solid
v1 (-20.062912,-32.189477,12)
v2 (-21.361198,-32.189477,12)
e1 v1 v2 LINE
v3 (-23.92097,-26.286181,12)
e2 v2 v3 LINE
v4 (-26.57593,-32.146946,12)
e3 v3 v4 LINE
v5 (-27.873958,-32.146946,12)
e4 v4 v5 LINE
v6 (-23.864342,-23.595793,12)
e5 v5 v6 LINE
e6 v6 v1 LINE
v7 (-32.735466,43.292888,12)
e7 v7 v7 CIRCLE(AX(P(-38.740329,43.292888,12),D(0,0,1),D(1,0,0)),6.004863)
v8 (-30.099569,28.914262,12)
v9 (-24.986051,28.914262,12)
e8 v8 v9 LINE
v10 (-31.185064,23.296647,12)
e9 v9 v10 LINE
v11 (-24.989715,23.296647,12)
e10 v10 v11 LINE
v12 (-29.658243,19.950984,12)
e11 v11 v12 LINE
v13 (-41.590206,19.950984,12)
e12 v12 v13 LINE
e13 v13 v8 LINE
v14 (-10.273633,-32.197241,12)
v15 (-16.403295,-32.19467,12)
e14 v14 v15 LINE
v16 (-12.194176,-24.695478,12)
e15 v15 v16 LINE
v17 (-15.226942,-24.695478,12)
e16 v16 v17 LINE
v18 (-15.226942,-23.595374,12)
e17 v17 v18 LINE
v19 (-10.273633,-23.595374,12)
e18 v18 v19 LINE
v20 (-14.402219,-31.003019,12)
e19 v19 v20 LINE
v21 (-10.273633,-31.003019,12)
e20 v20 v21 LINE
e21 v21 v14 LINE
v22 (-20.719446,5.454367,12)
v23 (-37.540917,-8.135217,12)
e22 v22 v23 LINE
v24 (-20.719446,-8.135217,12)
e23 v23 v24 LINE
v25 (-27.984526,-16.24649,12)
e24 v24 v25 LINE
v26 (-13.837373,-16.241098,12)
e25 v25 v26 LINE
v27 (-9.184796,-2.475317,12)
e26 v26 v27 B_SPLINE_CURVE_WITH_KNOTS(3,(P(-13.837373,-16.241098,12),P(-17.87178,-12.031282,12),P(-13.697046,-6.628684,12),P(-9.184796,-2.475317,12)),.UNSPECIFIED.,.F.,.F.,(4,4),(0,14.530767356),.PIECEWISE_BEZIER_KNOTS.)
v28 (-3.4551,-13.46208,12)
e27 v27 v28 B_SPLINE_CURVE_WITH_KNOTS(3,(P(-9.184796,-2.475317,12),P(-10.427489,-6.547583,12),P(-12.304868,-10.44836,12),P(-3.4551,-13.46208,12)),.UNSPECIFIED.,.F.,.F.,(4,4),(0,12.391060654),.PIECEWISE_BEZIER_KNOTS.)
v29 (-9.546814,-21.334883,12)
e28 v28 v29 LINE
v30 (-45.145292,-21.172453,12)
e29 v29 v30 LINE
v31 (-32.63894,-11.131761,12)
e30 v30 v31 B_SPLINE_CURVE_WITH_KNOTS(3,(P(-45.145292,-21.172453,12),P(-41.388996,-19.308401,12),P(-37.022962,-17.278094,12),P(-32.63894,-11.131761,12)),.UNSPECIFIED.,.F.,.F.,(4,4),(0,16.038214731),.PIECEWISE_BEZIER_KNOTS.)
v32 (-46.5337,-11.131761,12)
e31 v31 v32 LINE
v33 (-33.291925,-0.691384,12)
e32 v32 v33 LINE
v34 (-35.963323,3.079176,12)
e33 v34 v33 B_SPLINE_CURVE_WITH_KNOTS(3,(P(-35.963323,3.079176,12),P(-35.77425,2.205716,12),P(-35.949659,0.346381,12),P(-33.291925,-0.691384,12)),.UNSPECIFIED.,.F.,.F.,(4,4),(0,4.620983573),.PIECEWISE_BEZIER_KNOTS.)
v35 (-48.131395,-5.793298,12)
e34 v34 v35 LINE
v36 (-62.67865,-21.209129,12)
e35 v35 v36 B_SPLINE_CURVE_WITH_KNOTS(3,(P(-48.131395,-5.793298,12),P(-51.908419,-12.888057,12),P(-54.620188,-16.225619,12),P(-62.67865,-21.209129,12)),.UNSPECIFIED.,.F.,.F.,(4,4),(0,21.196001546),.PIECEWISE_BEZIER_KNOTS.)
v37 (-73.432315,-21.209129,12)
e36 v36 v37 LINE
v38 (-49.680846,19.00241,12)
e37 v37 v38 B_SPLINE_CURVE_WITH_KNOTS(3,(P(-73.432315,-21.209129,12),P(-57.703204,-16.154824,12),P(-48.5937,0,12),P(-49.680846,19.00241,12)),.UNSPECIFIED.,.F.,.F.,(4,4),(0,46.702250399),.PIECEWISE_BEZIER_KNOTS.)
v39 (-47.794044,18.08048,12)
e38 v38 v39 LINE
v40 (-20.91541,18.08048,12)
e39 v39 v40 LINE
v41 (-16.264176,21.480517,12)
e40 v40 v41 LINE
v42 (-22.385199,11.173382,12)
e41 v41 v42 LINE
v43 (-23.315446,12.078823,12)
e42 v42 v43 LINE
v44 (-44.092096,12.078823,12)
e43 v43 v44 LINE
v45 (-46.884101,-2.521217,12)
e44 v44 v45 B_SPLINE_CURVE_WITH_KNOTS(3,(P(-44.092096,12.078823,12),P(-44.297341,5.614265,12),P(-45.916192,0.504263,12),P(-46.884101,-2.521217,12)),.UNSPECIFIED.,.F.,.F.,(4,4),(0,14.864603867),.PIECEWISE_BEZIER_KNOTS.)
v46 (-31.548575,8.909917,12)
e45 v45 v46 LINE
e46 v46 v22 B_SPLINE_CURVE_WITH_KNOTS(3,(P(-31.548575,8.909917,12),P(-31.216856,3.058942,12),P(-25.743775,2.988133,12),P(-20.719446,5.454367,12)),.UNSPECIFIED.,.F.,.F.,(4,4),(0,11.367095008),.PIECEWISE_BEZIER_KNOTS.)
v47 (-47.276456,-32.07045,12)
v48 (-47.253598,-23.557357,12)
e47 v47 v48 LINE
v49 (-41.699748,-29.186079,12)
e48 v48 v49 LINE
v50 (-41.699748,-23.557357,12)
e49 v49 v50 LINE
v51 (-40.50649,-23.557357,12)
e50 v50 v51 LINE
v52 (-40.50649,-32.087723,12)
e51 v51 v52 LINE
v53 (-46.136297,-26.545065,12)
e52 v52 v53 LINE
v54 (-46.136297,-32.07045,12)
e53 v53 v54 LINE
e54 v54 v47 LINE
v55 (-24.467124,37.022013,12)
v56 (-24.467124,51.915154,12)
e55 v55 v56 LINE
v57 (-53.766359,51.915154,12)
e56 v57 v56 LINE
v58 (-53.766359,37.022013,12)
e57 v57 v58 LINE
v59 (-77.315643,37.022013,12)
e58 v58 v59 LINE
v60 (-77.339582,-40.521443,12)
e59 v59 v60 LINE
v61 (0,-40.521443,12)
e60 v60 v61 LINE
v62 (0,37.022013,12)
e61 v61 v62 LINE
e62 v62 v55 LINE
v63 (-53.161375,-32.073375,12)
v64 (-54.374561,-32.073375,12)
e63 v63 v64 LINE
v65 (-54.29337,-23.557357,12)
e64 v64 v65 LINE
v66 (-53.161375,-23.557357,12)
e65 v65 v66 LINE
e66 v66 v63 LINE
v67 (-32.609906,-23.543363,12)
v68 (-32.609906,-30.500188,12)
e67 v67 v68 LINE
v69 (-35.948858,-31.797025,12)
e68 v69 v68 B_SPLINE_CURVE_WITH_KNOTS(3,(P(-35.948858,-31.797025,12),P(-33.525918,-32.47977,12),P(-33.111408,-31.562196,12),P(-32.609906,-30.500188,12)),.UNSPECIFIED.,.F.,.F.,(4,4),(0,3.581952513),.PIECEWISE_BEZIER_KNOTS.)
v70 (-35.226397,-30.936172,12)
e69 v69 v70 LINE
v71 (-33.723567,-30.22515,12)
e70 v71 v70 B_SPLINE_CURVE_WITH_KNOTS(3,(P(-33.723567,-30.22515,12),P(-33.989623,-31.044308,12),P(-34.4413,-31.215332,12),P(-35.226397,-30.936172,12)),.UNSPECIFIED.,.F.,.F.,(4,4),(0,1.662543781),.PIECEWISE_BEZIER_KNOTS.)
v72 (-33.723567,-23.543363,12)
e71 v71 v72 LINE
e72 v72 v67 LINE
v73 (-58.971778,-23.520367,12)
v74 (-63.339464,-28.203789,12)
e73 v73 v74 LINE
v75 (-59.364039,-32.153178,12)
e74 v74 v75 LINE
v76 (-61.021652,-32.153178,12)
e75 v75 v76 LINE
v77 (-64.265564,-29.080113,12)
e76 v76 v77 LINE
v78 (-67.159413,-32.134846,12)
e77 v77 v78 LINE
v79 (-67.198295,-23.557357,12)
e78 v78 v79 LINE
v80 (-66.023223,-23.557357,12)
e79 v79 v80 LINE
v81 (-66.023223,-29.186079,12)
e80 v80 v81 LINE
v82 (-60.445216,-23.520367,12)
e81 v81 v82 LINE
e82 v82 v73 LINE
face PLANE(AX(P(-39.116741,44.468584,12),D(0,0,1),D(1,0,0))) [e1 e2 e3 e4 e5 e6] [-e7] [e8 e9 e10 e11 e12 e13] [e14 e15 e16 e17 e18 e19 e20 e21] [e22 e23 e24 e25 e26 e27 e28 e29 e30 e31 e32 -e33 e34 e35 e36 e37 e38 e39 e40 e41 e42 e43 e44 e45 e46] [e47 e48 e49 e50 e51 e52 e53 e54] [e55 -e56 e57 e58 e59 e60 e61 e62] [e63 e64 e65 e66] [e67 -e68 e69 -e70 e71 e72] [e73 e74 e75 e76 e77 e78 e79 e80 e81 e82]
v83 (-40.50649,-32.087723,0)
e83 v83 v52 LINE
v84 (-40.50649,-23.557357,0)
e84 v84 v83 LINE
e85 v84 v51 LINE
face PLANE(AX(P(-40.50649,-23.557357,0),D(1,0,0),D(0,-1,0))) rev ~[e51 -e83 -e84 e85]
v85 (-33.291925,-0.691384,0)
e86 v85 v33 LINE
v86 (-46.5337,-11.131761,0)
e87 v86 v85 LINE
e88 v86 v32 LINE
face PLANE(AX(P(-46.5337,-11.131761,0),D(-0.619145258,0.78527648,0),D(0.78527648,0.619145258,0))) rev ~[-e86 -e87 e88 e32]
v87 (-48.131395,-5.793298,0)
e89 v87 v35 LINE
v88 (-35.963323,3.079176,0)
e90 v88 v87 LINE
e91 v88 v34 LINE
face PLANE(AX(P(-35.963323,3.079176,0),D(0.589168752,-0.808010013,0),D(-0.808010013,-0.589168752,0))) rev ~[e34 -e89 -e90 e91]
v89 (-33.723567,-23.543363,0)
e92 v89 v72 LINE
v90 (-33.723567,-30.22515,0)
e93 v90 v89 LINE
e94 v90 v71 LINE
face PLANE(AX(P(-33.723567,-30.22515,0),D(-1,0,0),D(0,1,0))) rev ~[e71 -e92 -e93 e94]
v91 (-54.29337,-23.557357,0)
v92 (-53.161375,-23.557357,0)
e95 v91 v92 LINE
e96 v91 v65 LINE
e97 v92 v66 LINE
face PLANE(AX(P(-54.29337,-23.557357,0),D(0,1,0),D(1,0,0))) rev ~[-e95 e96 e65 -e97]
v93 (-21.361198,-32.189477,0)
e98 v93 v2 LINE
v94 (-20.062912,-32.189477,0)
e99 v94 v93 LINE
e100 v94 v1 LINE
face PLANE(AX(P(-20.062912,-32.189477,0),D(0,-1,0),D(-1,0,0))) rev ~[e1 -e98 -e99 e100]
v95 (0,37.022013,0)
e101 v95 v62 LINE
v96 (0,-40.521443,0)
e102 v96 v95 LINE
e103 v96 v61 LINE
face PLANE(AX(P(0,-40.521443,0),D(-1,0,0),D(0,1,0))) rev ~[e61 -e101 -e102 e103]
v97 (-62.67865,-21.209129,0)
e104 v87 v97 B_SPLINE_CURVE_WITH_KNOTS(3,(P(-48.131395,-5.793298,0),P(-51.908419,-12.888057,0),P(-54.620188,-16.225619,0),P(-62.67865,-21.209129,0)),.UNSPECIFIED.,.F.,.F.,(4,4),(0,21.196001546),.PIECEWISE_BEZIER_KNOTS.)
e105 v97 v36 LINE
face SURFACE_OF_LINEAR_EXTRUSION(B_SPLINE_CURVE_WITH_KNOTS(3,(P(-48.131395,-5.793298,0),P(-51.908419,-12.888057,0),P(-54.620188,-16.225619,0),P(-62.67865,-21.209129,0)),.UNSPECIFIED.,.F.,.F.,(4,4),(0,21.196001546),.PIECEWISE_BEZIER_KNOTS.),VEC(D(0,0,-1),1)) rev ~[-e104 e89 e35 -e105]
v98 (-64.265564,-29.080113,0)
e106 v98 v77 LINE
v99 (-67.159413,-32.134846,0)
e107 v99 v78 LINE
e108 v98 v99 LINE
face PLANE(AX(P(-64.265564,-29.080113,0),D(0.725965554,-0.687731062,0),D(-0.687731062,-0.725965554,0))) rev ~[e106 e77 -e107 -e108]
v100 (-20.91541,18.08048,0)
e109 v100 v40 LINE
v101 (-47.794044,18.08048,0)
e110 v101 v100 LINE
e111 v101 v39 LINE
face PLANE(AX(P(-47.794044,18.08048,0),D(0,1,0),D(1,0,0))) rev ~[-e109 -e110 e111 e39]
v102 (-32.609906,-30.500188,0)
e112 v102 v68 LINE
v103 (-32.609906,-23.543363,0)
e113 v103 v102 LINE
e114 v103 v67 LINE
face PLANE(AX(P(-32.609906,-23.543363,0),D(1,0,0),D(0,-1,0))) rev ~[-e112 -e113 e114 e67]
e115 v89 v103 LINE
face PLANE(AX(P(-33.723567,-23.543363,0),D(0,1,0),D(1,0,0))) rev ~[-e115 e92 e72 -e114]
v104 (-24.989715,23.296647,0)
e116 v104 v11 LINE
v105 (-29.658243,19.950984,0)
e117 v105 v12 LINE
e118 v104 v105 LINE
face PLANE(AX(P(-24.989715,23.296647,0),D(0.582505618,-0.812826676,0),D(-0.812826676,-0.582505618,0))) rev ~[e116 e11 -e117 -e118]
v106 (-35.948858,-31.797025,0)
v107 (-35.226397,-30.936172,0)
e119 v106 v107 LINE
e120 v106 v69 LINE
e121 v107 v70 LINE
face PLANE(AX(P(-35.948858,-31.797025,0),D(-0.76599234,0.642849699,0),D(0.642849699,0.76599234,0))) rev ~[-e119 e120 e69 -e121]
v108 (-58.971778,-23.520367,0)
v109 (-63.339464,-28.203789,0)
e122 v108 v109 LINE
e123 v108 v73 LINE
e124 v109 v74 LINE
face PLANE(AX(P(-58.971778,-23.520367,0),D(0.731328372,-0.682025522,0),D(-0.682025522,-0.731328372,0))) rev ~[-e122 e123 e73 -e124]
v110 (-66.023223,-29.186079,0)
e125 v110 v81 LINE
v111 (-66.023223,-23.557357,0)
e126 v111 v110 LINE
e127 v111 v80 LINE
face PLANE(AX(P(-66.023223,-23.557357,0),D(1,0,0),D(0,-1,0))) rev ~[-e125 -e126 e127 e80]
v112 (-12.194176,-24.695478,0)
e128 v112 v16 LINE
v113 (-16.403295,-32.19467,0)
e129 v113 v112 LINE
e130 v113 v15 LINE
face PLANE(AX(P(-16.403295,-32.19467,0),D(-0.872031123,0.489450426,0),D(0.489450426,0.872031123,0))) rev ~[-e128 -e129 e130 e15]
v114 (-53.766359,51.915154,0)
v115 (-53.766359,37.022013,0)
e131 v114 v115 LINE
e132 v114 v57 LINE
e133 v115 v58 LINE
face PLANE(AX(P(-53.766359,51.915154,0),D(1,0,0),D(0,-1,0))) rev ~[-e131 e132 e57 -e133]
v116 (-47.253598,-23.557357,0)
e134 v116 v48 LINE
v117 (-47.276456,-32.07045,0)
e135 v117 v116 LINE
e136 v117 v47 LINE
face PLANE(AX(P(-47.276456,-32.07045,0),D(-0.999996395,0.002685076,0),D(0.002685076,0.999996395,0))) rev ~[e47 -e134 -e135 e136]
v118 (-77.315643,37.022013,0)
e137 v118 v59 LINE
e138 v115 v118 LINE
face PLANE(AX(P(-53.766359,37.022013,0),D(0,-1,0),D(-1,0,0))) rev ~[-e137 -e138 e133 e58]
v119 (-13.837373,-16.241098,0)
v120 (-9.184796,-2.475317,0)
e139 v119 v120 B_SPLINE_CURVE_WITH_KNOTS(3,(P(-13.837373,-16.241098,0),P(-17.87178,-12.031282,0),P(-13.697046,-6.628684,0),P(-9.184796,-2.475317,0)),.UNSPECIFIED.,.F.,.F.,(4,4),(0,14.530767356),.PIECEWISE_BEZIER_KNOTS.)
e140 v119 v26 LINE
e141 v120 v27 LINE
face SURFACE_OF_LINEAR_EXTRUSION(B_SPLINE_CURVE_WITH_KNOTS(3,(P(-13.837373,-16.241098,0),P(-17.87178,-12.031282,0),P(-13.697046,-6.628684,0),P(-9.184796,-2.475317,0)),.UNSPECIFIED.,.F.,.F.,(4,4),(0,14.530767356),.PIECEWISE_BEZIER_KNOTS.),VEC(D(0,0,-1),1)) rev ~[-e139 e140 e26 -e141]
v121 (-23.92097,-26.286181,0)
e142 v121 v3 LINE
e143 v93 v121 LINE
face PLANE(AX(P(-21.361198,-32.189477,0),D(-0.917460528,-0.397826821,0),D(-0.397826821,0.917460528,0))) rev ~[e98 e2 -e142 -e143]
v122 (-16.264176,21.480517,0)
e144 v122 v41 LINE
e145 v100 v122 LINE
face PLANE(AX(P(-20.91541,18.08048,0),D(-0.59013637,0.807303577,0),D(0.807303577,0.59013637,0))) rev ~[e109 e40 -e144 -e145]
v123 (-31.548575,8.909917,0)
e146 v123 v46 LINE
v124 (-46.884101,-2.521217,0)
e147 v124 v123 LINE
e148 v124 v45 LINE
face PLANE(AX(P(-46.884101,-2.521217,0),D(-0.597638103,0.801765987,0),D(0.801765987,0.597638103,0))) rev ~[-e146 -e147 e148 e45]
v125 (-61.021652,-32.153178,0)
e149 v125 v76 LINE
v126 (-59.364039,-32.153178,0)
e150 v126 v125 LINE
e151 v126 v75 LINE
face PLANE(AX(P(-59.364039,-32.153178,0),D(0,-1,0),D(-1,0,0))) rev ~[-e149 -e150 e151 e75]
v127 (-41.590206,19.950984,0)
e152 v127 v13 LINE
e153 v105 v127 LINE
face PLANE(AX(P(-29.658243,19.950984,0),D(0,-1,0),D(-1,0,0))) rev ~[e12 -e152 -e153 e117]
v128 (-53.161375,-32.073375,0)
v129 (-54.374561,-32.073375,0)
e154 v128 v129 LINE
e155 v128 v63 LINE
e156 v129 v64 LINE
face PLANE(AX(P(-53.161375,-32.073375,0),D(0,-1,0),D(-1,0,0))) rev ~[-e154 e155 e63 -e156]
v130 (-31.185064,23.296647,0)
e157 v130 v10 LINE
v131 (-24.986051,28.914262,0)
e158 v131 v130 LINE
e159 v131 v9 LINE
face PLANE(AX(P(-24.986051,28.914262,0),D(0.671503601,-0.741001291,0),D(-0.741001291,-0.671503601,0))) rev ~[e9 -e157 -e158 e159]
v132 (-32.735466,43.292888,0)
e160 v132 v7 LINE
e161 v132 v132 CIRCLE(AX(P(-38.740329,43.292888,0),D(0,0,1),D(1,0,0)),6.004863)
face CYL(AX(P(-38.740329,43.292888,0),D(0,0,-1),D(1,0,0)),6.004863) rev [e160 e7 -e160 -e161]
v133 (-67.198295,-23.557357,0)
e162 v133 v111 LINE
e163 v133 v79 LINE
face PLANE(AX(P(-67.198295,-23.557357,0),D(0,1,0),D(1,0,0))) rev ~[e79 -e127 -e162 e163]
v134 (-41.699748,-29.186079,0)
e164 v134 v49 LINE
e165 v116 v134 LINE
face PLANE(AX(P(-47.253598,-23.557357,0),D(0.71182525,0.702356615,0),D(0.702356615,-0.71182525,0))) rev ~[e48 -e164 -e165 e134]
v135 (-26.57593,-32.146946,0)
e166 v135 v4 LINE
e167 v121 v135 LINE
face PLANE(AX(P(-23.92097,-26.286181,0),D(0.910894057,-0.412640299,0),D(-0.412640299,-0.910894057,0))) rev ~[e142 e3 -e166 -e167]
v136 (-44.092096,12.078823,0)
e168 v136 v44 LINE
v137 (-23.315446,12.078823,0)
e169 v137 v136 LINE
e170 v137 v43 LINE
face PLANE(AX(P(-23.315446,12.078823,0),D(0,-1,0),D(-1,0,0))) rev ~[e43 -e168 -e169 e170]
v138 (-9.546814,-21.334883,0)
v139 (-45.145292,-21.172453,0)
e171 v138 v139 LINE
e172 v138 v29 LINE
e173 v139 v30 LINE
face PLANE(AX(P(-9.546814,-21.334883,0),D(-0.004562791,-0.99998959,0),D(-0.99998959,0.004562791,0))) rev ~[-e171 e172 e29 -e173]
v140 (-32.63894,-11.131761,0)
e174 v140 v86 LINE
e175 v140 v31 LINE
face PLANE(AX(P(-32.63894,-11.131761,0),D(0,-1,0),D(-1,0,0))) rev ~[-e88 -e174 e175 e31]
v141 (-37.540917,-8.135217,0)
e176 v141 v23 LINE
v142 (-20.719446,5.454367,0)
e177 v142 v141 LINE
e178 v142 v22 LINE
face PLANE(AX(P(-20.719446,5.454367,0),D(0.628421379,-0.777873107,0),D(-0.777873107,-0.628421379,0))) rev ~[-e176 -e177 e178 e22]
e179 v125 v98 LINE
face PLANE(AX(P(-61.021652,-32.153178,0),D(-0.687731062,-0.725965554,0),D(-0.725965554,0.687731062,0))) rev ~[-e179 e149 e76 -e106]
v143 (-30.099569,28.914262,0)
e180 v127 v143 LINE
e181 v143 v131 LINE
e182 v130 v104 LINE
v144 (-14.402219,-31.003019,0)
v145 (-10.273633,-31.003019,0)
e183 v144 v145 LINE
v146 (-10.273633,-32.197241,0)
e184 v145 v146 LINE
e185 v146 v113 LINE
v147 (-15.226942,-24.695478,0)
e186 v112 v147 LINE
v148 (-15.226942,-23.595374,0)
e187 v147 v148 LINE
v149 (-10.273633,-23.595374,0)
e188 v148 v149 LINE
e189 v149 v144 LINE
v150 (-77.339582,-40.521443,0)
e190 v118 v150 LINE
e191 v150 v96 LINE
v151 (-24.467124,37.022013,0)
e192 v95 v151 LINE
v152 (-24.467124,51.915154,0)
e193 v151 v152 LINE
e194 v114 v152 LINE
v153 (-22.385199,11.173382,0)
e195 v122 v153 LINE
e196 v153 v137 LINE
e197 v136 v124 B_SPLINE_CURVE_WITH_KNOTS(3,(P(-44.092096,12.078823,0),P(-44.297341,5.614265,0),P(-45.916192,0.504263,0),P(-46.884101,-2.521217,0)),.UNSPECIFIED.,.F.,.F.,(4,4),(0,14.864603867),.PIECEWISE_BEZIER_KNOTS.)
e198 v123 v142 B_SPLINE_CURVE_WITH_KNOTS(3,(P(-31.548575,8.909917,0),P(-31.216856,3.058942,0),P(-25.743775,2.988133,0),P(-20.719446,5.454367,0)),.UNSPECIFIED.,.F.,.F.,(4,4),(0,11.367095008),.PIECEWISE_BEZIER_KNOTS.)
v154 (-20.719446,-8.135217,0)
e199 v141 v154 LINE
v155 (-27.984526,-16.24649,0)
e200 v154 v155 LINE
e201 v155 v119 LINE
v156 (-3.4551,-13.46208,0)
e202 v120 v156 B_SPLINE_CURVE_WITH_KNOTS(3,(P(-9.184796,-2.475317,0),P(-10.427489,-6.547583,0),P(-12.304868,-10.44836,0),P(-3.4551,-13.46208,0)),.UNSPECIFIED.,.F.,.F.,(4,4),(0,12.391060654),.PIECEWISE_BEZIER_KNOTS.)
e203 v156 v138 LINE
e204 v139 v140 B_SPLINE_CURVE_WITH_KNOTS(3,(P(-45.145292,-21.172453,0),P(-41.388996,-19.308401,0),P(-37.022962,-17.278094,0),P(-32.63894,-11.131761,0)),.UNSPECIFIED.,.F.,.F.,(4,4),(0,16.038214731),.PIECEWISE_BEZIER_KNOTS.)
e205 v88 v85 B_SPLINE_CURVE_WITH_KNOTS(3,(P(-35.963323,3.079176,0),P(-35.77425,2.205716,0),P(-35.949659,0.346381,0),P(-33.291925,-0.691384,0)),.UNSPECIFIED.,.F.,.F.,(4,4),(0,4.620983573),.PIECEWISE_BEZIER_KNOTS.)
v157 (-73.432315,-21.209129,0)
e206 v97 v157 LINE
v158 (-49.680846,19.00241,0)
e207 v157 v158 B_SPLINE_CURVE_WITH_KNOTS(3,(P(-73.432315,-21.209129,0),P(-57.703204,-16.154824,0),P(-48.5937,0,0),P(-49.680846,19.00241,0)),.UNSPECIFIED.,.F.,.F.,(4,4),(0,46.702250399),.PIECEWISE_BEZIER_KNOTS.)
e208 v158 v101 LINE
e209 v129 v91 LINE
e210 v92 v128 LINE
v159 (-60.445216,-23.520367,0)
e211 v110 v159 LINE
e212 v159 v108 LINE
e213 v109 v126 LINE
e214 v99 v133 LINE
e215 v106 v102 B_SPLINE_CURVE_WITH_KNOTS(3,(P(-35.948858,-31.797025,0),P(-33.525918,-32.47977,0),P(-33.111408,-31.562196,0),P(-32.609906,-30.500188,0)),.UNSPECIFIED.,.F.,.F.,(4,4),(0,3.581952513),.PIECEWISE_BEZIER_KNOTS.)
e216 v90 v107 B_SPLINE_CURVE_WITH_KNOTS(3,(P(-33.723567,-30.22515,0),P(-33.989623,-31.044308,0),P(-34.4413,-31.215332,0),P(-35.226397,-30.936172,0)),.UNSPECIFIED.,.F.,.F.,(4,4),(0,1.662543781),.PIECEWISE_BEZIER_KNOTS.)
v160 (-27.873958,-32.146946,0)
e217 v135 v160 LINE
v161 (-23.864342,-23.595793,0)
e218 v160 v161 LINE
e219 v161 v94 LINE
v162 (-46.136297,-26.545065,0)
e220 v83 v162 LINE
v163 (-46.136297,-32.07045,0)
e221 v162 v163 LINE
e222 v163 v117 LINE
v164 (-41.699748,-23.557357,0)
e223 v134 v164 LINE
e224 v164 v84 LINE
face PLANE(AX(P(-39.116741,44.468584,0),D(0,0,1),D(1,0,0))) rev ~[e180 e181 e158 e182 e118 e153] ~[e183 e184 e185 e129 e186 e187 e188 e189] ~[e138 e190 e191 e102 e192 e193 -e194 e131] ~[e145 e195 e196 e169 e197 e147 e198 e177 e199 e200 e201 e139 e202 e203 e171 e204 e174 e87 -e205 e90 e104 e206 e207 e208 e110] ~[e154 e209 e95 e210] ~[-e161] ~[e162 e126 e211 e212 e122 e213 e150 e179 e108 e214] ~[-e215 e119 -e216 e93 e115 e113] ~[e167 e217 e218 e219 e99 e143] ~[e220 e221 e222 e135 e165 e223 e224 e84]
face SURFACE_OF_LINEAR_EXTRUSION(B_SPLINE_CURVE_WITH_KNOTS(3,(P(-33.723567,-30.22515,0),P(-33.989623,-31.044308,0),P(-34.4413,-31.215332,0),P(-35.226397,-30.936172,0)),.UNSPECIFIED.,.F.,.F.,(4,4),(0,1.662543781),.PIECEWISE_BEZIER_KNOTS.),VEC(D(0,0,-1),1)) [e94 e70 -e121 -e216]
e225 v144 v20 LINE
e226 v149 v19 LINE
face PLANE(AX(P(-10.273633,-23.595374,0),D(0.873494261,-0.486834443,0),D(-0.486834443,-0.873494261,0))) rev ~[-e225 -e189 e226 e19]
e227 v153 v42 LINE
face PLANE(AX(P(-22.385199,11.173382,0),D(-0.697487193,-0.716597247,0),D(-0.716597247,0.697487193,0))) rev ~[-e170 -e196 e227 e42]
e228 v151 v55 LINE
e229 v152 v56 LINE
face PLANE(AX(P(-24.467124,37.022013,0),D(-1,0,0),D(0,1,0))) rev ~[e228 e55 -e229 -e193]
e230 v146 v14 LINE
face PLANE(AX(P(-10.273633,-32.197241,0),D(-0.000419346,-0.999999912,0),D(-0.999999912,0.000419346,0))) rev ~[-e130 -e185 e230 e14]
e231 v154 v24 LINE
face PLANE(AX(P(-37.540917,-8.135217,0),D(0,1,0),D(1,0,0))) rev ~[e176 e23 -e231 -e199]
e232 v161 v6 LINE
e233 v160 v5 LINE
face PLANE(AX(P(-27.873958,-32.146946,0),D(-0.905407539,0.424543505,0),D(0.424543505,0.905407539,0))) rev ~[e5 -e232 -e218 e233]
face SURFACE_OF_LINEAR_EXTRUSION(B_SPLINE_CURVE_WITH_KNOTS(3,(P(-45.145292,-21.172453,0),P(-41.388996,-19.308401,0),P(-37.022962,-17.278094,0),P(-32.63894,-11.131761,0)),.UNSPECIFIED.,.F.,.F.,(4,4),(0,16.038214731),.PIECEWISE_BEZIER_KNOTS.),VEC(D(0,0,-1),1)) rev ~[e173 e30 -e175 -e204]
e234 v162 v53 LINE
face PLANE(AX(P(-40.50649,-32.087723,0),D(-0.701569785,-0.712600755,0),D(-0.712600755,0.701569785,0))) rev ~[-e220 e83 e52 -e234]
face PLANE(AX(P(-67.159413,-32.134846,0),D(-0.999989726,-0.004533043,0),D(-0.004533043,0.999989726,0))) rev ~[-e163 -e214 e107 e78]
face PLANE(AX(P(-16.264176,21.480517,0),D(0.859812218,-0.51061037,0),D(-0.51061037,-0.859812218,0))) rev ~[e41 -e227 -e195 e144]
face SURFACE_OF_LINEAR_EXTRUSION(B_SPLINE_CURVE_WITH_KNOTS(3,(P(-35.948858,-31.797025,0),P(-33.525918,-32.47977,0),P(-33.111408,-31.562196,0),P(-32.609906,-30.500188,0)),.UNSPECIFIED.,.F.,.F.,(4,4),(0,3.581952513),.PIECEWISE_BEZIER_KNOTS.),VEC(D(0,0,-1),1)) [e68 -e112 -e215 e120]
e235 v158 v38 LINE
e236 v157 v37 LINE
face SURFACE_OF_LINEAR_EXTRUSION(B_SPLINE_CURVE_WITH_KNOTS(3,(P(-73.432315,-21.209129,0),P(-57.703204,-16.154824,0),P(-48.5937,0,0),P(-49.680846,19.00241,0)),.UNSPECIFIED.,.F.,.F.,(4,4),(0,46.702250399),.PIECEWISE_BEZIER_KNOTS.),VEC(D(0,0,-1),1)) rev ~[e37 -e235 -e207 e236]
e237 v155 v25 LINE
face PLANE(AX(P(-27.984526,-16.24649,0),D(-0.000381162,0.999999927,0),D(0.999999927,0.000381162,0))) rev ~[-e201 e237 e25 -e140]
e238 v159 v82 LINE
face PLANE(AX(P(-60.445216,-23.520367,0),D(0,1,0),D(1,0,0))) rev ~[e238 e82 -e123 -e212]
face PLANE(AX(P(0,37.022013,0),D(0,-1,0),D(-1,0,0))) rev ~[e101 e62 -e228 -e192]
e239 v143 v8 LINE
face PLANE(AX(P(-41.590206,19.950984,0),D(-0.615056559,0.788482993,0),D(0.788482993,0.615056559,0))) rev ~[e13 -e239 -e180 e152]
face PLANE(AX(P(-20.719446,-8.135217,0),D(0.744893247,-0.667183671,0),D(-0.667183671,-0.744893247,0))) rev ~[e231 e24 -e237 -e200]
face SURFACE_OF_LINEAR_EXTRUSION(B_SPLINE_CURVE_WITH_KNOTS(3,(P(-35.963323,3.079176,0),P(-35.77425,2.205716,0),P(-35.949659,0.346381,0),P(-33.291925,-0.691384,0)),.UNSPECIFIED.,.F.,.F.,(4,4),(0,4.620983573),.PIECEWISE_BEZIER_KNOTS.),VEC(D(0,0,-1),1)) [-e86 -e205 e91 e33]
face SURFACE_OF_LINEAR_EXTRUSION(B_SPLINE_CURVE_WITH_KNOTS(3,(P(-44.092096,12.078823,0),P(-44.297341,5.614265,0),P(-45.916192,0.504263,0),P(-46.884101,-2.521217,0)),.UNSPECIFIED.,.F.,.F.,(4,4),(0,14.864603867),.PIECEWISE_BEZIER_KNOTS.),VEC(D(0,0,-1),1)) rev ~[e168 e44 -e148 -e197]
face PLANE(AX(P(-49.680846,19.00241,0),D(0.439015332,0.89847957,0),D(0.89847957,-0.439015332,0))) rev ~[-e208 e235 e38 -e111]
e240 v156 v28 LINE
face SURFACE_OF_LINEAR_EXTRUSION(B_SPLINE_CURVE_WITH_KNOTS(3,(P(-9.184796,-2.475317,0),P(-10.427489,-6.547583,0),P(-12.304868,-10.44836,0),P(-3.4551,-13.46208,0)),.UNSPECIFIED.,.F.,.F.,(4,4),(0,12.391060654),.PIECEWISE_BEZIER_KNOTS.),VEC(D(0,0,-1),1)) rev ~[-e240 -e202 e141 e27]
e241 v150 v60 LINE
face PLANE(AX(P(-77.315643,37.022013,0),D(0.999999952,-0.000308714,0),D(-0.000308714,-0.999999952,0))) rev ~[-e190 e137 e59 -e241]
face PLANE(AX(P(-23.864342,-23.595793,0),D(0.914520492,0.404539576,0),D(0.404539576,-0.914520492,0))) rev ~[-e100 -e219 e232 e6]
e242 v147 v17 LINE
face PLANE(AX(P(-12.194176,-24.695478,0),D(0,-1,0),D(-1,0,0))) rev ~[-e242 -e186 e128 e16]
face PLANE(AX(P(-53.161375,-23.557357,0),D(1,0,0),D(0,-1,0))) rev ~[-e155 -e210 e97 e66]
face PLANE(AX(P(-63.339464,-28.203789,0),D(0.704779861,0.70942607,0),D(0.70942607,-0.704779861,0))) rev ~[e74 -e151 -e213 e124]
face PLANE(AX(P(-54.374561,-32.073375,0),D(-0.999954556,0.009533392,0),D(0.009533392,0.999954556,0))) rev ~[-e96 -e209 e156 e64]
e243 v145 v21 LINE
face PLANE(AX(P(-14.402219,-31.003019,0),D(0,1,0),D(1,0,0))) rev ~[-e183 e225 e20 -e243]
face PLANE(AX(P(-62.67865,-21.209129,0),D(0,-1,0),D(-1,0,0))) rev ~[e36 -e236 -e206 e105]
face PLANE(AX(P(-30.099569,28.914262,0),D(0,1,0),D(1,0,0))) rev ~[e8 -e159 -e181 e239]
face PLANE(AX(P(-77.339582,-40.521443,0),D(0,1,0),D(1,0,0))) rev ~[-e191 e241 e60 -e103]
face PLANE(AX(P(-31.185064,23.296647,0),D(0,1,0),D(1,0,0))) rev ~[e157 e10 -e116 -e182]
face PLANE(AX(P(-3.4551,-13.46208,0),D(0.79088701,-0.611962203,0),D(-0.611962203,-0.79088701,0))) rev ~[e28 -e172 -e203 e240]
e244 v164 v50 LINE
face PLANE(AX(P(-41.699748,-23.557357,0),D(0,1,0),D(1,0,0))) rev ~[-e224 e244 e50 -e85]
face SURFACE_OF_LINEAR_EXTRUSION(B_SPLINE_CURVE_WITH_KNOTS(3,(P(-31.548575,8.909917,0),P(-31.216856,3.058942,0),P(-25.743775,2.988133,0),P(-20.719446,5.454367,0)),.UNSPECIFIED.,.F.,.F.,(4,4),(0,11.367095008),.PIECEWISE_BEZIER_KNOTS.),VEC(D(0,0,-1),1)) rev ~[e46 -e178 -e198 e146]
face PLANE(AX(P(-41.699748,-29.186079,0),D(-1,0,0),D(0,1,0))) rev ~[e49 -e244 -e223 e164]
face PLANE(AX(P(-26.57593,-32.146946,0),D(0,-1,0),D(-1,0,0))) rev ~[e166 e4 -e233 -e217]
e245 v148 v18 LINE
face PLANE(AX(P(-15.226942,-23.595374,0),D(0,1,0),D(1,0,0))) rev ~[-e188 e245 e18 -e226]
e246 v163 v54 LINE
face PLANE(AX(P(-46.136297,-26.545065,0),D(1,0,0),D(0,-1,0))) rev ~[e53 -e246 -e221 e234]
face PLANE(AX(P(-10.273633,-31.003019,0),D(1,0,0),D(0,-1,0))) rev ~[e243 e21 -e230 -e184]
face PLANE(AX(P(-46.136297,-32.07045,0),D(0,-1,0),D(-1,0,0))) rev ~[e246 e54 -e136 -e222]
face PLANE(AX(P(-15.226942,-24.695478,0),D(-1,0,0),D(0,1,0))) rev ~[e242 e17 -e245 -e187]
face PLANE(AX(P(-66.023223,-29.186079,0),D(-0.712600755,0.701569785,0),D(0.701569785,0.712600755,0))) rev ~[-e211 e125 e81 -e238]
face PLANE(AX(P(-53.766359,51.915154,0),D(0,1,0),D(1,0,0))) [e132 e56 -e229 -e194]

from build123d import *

# Parameters (mm, degrees)
F0_W     = 29.2992349714
F0_H     = 14.8931406438
F0_R     = 6.0048631412
F0_H_2   = 4.8183426261
F1_DEPTH = 12


with BuildPart() as f1:
    # F0 (on Top) → F1 (new body)
    with BuildSketch(Plane.XY):
        with Locations((-39.1167411581, 44.4685835391)):
            Rectangle(F0_W, F0_H)
        with Locations((-38.7403294444, 43.2928875089)):
            Circle(F0_R, mode=Mode.SUBTRACT)
        with Locations((-39.1167411581, 34.6128419042)):
            Rectangle(F0_W, F0_H_2)
        Polygon((-53.7663586438, 37.0220132172), (-77.3156434298, 37.0220132172), (-77.3395821452, -40.5214428902), (0, -40.5214428902), (0, 37.0220132172), (-24.4671236724, 37.0220132172), (-24.4671236724, 32.2036705911), (-53.7663586438, 32.2036705911), align=None)
        Polygon((-67.159412581, -32.1348457524), (-67.1982951041, -23.5573574901), (-66.0232231021, -23.5573574901), (-66.0232231021, -29.1860792786), (-60.445215553, -23.52036722), (-58.9717775583, -23.52036722), (-63.3394643664, -28.2037891448), (-59.3640394509, -32.1531780064), (-61.0216520727, -32.1531780064), (-64.2655640841, -29.080113396), align=None, mode=Mode.SUBTRACT)
        Polygon((-54.3745607138, -32.0733748376), (-54.2933704932, -23.5573574901), (-53.1613752246, -23.5573574901), (-53.1613752246, -32.0733748376), align=None, mode=Mode.SUBTRACT)
        Polygon((-46.1362972856, -32.0704504848), (-47.276455909, -32.0704504848), (-47.2535975277, -23.5573574901), (-41.6997484863, -29.1860792786), (-41.6997484863, -23.5573574901), (-40.5064902602, -23.5573574901), (-40.5064902602, -32.0877228451), (-46.1362972856, -26.5450645238), align=None, mode=Mode.SUBTRACT)
        with BuildLine():
            add(Edge.make_bspline(
                [(-35.9488576651, -31.7970253527), (-33.5259176791, -32.4797704816), (-33.1114083529, -31.5621960908), (-32.6099060476, -30.5001884699)],
                knots=[0, 0, 0, 0, 3.5819525129, 3.5819525129, 3.5819525129, 3.5819525129], degree=3))
            Line((-35.9488576651, -31.7970253527), (-35.2263972163, -30.936172232))
            add(Edge.make_bspline(
                [(-33.7235666811, -30.2251502872), (-33.989623189, -31.0443080962), (-34.4412997365, -31.2153324485), (-35.2263972163, -30.936172232)],
                knots=[0, 0, 0, 0, 1.6625437809, 1.6625437809, 1.6625437809, 1.6625437809], degree=3))
            Line((-33.7235666811, -30.2251502872), (-33.7235666811, -23.5433634371))
            Line((-33.7235666811, -23.5433634371), (-32.6099060476, -23.5433634371))
            Line((-32.6099060476, -23.5433634371), (-32.6099060476, -30.5001884699))
        make_face(mode=Mode.SUBTRACT)
        Polygon((-26.5759304166, -32.1469455957), (-27.8739575297, -32.1469455957), (-23.8643418998, -23.5957931727), (-20.0629122555, -32.1894772351), (-21.3611982763, -32.1894772351), (-23.9209700376, -26.2861810625), align=None, mode=Mode.SUBTRACT)
        Polygon((-10.2736325935, -31.0030188411), (-10.2736325935, -32.1972407401), (-16.4032950997, -32.1946702898), (-12.1941762045, -24.6954783797), (-15.2269415557, -24.6954783797), (-15.2269415557, -23.5953740776), (-10.2736325935, -23.5953740776), (-14.4022190943, -31.0030188411), align=None, mode=Mode.SUBTRACT)
        with BuildLine():
            add(Edge.make_bspline(
                [(-48.1313951313, -5.793298129), (-51.9084185362, -12.8880571574), (-54.6201877296, -16.2256192416), (-62.6786500216, -21.2091294951)],
                knots=[0, 0, 0, 0, 21.1960015463, 21.1960015463, 21.1960015463, 21.1960015463], degree=3))
            Line((-62.6786500216, -21.2091294951), (-73.4323149167, -21.2091294951))
            add(Edge.make_bspline(
                [(-73.4323149167, -21.2091294951), (-57.703204453, -16.1548238248), (-48.5936999321, 0), (-49.6808459371, 19.0024100635)],
                knots=[0, 0, 0, 0, 46.7022503994, 46.7022503994, 46.7022503994, 46.7022503994], degree=3))
            Line((-49.6808459371, 19.0024100635), (-47.7940440178, 18.0804803967))
            Line((-47.7940440178, 18.0804803967), (-20.9154095501, 18.0804803967))
            Line((-20.9154095501, 18.0804803967), (-16.2641759962, 21.4805174619))
            Line((-16.2641759962, 21.4805174619), (-22.3851986229, 11.1733824015))
            Line((-22.3851986229, 11.1733824015), (-23.3154464513, 12.0788225904))
            Line((-23.3154464513, 12.0788225904), (-44.0920963883, 12.0788225904))
            add(Edge.make_bspline(
                [(-44.0920963883, 12.0788225904), (-44.2973412573, 5.6142648682), (-45.9161922336, 0.504262629), (-46.8841008842, -2.5212171022)],
                knots=[0, 0, 0, 0, 14.8646038673, 14.8646038673, 14.8646038673, 14.8646038673], degree=3))
            Line((-46.8841008842, -2.5212171022), (-31.5485745668, 8.9099174365))
            add(Edge.make_bspline(
                [(-31.5485745668, 8.9099174365), (-31.2168560922, 3.058941802), (-25.7437750697, 2.9881331138), (-20.7194462419, 5.4543670267)],
                knots=[0, 0, 0, 0, 11.3670950077, 11.3670950077, 11.3670950077, 11.3670950077], degree=3))
            Line((-20.7194462419, 5.4543670267), (-37.5409174588, -8.1352172419))
            Line((-37.5409174588, -8.1352172419), (-20.7194462419, -8.1352172419))
            Line((-20.7194462419, -8.1352172419), (-27.9845260084, -16.2464901805))
            Line((-27.9845260084, -16.2464901805), (-13.8373728842, -16.2410978228))
            add(Edge.make_bspline(
                [(-13.8373728842, -16.2410978228), (-17.871780321, -12.0312822983), (-13.6970458552, -6.6286842339), (-9.1847963631, -2.4753166363)],
                knots=[0, 0, 0, 0, 14.5307673562, 14.5307673562, 14.5307673562, 14.5307673562], degree=3))
            add(Edge.make_bspline(
                [(-9.1847963631, -2.4753166363), (-10.4274889454, -6.5475832671), (-12.3048676178, -10.4483598843), (-3.4550998826, -13.4620796889)],
                knots=[0, 0, 0, 0, 12.3910606541, 12.3910606541, 12.3910606541, 12.3910606541], degree=3))
            Line((-3.4550998826, -13.4620796889), (-9.5468144864, -21.3348828256))
            Line((-9.5468144864, -21.3348828256), (-45.1452918351, -21.172452718))
            add(Edge.make_bspline(
                [(-45.1452918351, -21.172452718), (-41.3889959455, -19.3084012717), (-37.0229622611, -17.2780938447), (-32.638940055, -11.1317606643)],
                knots=[0, 0, 0, 0, 16.0382147312, 16.0382147312, 16.0382147312, 16.0382147312], degree=3))
            Line((-32.638940055, -11.1317606643), (-46.5337000787, -11.1317606643))
            Line((-46.5337000787, -11.1317606643), (-33.2919247448, -0.691383786))
            add(Edge.make_bspline(
                [(-35.9633229673, 3.0791759491), (-35.7742495835, 2.2057159804), (-35.9496586025, 0.3463805187), (-33.2919247448, -0.691383786)],
                knots=[0, 0, 0, 0, 4.6209835727, 4.6209835727, 4.6209835727, 4.6209835727], degree=3))
            Line((-35.9633229673, 3.0791759491), (-48.1313951313, -5.793298129))
        make_face(mode=Mode.SUBTRACT)
        Polygon((-29.6582430601, 19.9509840459), (-41.5902063251, 19.9509840459), (-30.0995688885, 28.9142616093), (-24.986051023, 28.9142616093), (-31.1850644648, 23.2966467738), (-24.989714846, 23.2966467738), align=None, mode=Mode.SUBTRACT)
    extrude(amount=F1_DEPTH)


solid = f1.part
